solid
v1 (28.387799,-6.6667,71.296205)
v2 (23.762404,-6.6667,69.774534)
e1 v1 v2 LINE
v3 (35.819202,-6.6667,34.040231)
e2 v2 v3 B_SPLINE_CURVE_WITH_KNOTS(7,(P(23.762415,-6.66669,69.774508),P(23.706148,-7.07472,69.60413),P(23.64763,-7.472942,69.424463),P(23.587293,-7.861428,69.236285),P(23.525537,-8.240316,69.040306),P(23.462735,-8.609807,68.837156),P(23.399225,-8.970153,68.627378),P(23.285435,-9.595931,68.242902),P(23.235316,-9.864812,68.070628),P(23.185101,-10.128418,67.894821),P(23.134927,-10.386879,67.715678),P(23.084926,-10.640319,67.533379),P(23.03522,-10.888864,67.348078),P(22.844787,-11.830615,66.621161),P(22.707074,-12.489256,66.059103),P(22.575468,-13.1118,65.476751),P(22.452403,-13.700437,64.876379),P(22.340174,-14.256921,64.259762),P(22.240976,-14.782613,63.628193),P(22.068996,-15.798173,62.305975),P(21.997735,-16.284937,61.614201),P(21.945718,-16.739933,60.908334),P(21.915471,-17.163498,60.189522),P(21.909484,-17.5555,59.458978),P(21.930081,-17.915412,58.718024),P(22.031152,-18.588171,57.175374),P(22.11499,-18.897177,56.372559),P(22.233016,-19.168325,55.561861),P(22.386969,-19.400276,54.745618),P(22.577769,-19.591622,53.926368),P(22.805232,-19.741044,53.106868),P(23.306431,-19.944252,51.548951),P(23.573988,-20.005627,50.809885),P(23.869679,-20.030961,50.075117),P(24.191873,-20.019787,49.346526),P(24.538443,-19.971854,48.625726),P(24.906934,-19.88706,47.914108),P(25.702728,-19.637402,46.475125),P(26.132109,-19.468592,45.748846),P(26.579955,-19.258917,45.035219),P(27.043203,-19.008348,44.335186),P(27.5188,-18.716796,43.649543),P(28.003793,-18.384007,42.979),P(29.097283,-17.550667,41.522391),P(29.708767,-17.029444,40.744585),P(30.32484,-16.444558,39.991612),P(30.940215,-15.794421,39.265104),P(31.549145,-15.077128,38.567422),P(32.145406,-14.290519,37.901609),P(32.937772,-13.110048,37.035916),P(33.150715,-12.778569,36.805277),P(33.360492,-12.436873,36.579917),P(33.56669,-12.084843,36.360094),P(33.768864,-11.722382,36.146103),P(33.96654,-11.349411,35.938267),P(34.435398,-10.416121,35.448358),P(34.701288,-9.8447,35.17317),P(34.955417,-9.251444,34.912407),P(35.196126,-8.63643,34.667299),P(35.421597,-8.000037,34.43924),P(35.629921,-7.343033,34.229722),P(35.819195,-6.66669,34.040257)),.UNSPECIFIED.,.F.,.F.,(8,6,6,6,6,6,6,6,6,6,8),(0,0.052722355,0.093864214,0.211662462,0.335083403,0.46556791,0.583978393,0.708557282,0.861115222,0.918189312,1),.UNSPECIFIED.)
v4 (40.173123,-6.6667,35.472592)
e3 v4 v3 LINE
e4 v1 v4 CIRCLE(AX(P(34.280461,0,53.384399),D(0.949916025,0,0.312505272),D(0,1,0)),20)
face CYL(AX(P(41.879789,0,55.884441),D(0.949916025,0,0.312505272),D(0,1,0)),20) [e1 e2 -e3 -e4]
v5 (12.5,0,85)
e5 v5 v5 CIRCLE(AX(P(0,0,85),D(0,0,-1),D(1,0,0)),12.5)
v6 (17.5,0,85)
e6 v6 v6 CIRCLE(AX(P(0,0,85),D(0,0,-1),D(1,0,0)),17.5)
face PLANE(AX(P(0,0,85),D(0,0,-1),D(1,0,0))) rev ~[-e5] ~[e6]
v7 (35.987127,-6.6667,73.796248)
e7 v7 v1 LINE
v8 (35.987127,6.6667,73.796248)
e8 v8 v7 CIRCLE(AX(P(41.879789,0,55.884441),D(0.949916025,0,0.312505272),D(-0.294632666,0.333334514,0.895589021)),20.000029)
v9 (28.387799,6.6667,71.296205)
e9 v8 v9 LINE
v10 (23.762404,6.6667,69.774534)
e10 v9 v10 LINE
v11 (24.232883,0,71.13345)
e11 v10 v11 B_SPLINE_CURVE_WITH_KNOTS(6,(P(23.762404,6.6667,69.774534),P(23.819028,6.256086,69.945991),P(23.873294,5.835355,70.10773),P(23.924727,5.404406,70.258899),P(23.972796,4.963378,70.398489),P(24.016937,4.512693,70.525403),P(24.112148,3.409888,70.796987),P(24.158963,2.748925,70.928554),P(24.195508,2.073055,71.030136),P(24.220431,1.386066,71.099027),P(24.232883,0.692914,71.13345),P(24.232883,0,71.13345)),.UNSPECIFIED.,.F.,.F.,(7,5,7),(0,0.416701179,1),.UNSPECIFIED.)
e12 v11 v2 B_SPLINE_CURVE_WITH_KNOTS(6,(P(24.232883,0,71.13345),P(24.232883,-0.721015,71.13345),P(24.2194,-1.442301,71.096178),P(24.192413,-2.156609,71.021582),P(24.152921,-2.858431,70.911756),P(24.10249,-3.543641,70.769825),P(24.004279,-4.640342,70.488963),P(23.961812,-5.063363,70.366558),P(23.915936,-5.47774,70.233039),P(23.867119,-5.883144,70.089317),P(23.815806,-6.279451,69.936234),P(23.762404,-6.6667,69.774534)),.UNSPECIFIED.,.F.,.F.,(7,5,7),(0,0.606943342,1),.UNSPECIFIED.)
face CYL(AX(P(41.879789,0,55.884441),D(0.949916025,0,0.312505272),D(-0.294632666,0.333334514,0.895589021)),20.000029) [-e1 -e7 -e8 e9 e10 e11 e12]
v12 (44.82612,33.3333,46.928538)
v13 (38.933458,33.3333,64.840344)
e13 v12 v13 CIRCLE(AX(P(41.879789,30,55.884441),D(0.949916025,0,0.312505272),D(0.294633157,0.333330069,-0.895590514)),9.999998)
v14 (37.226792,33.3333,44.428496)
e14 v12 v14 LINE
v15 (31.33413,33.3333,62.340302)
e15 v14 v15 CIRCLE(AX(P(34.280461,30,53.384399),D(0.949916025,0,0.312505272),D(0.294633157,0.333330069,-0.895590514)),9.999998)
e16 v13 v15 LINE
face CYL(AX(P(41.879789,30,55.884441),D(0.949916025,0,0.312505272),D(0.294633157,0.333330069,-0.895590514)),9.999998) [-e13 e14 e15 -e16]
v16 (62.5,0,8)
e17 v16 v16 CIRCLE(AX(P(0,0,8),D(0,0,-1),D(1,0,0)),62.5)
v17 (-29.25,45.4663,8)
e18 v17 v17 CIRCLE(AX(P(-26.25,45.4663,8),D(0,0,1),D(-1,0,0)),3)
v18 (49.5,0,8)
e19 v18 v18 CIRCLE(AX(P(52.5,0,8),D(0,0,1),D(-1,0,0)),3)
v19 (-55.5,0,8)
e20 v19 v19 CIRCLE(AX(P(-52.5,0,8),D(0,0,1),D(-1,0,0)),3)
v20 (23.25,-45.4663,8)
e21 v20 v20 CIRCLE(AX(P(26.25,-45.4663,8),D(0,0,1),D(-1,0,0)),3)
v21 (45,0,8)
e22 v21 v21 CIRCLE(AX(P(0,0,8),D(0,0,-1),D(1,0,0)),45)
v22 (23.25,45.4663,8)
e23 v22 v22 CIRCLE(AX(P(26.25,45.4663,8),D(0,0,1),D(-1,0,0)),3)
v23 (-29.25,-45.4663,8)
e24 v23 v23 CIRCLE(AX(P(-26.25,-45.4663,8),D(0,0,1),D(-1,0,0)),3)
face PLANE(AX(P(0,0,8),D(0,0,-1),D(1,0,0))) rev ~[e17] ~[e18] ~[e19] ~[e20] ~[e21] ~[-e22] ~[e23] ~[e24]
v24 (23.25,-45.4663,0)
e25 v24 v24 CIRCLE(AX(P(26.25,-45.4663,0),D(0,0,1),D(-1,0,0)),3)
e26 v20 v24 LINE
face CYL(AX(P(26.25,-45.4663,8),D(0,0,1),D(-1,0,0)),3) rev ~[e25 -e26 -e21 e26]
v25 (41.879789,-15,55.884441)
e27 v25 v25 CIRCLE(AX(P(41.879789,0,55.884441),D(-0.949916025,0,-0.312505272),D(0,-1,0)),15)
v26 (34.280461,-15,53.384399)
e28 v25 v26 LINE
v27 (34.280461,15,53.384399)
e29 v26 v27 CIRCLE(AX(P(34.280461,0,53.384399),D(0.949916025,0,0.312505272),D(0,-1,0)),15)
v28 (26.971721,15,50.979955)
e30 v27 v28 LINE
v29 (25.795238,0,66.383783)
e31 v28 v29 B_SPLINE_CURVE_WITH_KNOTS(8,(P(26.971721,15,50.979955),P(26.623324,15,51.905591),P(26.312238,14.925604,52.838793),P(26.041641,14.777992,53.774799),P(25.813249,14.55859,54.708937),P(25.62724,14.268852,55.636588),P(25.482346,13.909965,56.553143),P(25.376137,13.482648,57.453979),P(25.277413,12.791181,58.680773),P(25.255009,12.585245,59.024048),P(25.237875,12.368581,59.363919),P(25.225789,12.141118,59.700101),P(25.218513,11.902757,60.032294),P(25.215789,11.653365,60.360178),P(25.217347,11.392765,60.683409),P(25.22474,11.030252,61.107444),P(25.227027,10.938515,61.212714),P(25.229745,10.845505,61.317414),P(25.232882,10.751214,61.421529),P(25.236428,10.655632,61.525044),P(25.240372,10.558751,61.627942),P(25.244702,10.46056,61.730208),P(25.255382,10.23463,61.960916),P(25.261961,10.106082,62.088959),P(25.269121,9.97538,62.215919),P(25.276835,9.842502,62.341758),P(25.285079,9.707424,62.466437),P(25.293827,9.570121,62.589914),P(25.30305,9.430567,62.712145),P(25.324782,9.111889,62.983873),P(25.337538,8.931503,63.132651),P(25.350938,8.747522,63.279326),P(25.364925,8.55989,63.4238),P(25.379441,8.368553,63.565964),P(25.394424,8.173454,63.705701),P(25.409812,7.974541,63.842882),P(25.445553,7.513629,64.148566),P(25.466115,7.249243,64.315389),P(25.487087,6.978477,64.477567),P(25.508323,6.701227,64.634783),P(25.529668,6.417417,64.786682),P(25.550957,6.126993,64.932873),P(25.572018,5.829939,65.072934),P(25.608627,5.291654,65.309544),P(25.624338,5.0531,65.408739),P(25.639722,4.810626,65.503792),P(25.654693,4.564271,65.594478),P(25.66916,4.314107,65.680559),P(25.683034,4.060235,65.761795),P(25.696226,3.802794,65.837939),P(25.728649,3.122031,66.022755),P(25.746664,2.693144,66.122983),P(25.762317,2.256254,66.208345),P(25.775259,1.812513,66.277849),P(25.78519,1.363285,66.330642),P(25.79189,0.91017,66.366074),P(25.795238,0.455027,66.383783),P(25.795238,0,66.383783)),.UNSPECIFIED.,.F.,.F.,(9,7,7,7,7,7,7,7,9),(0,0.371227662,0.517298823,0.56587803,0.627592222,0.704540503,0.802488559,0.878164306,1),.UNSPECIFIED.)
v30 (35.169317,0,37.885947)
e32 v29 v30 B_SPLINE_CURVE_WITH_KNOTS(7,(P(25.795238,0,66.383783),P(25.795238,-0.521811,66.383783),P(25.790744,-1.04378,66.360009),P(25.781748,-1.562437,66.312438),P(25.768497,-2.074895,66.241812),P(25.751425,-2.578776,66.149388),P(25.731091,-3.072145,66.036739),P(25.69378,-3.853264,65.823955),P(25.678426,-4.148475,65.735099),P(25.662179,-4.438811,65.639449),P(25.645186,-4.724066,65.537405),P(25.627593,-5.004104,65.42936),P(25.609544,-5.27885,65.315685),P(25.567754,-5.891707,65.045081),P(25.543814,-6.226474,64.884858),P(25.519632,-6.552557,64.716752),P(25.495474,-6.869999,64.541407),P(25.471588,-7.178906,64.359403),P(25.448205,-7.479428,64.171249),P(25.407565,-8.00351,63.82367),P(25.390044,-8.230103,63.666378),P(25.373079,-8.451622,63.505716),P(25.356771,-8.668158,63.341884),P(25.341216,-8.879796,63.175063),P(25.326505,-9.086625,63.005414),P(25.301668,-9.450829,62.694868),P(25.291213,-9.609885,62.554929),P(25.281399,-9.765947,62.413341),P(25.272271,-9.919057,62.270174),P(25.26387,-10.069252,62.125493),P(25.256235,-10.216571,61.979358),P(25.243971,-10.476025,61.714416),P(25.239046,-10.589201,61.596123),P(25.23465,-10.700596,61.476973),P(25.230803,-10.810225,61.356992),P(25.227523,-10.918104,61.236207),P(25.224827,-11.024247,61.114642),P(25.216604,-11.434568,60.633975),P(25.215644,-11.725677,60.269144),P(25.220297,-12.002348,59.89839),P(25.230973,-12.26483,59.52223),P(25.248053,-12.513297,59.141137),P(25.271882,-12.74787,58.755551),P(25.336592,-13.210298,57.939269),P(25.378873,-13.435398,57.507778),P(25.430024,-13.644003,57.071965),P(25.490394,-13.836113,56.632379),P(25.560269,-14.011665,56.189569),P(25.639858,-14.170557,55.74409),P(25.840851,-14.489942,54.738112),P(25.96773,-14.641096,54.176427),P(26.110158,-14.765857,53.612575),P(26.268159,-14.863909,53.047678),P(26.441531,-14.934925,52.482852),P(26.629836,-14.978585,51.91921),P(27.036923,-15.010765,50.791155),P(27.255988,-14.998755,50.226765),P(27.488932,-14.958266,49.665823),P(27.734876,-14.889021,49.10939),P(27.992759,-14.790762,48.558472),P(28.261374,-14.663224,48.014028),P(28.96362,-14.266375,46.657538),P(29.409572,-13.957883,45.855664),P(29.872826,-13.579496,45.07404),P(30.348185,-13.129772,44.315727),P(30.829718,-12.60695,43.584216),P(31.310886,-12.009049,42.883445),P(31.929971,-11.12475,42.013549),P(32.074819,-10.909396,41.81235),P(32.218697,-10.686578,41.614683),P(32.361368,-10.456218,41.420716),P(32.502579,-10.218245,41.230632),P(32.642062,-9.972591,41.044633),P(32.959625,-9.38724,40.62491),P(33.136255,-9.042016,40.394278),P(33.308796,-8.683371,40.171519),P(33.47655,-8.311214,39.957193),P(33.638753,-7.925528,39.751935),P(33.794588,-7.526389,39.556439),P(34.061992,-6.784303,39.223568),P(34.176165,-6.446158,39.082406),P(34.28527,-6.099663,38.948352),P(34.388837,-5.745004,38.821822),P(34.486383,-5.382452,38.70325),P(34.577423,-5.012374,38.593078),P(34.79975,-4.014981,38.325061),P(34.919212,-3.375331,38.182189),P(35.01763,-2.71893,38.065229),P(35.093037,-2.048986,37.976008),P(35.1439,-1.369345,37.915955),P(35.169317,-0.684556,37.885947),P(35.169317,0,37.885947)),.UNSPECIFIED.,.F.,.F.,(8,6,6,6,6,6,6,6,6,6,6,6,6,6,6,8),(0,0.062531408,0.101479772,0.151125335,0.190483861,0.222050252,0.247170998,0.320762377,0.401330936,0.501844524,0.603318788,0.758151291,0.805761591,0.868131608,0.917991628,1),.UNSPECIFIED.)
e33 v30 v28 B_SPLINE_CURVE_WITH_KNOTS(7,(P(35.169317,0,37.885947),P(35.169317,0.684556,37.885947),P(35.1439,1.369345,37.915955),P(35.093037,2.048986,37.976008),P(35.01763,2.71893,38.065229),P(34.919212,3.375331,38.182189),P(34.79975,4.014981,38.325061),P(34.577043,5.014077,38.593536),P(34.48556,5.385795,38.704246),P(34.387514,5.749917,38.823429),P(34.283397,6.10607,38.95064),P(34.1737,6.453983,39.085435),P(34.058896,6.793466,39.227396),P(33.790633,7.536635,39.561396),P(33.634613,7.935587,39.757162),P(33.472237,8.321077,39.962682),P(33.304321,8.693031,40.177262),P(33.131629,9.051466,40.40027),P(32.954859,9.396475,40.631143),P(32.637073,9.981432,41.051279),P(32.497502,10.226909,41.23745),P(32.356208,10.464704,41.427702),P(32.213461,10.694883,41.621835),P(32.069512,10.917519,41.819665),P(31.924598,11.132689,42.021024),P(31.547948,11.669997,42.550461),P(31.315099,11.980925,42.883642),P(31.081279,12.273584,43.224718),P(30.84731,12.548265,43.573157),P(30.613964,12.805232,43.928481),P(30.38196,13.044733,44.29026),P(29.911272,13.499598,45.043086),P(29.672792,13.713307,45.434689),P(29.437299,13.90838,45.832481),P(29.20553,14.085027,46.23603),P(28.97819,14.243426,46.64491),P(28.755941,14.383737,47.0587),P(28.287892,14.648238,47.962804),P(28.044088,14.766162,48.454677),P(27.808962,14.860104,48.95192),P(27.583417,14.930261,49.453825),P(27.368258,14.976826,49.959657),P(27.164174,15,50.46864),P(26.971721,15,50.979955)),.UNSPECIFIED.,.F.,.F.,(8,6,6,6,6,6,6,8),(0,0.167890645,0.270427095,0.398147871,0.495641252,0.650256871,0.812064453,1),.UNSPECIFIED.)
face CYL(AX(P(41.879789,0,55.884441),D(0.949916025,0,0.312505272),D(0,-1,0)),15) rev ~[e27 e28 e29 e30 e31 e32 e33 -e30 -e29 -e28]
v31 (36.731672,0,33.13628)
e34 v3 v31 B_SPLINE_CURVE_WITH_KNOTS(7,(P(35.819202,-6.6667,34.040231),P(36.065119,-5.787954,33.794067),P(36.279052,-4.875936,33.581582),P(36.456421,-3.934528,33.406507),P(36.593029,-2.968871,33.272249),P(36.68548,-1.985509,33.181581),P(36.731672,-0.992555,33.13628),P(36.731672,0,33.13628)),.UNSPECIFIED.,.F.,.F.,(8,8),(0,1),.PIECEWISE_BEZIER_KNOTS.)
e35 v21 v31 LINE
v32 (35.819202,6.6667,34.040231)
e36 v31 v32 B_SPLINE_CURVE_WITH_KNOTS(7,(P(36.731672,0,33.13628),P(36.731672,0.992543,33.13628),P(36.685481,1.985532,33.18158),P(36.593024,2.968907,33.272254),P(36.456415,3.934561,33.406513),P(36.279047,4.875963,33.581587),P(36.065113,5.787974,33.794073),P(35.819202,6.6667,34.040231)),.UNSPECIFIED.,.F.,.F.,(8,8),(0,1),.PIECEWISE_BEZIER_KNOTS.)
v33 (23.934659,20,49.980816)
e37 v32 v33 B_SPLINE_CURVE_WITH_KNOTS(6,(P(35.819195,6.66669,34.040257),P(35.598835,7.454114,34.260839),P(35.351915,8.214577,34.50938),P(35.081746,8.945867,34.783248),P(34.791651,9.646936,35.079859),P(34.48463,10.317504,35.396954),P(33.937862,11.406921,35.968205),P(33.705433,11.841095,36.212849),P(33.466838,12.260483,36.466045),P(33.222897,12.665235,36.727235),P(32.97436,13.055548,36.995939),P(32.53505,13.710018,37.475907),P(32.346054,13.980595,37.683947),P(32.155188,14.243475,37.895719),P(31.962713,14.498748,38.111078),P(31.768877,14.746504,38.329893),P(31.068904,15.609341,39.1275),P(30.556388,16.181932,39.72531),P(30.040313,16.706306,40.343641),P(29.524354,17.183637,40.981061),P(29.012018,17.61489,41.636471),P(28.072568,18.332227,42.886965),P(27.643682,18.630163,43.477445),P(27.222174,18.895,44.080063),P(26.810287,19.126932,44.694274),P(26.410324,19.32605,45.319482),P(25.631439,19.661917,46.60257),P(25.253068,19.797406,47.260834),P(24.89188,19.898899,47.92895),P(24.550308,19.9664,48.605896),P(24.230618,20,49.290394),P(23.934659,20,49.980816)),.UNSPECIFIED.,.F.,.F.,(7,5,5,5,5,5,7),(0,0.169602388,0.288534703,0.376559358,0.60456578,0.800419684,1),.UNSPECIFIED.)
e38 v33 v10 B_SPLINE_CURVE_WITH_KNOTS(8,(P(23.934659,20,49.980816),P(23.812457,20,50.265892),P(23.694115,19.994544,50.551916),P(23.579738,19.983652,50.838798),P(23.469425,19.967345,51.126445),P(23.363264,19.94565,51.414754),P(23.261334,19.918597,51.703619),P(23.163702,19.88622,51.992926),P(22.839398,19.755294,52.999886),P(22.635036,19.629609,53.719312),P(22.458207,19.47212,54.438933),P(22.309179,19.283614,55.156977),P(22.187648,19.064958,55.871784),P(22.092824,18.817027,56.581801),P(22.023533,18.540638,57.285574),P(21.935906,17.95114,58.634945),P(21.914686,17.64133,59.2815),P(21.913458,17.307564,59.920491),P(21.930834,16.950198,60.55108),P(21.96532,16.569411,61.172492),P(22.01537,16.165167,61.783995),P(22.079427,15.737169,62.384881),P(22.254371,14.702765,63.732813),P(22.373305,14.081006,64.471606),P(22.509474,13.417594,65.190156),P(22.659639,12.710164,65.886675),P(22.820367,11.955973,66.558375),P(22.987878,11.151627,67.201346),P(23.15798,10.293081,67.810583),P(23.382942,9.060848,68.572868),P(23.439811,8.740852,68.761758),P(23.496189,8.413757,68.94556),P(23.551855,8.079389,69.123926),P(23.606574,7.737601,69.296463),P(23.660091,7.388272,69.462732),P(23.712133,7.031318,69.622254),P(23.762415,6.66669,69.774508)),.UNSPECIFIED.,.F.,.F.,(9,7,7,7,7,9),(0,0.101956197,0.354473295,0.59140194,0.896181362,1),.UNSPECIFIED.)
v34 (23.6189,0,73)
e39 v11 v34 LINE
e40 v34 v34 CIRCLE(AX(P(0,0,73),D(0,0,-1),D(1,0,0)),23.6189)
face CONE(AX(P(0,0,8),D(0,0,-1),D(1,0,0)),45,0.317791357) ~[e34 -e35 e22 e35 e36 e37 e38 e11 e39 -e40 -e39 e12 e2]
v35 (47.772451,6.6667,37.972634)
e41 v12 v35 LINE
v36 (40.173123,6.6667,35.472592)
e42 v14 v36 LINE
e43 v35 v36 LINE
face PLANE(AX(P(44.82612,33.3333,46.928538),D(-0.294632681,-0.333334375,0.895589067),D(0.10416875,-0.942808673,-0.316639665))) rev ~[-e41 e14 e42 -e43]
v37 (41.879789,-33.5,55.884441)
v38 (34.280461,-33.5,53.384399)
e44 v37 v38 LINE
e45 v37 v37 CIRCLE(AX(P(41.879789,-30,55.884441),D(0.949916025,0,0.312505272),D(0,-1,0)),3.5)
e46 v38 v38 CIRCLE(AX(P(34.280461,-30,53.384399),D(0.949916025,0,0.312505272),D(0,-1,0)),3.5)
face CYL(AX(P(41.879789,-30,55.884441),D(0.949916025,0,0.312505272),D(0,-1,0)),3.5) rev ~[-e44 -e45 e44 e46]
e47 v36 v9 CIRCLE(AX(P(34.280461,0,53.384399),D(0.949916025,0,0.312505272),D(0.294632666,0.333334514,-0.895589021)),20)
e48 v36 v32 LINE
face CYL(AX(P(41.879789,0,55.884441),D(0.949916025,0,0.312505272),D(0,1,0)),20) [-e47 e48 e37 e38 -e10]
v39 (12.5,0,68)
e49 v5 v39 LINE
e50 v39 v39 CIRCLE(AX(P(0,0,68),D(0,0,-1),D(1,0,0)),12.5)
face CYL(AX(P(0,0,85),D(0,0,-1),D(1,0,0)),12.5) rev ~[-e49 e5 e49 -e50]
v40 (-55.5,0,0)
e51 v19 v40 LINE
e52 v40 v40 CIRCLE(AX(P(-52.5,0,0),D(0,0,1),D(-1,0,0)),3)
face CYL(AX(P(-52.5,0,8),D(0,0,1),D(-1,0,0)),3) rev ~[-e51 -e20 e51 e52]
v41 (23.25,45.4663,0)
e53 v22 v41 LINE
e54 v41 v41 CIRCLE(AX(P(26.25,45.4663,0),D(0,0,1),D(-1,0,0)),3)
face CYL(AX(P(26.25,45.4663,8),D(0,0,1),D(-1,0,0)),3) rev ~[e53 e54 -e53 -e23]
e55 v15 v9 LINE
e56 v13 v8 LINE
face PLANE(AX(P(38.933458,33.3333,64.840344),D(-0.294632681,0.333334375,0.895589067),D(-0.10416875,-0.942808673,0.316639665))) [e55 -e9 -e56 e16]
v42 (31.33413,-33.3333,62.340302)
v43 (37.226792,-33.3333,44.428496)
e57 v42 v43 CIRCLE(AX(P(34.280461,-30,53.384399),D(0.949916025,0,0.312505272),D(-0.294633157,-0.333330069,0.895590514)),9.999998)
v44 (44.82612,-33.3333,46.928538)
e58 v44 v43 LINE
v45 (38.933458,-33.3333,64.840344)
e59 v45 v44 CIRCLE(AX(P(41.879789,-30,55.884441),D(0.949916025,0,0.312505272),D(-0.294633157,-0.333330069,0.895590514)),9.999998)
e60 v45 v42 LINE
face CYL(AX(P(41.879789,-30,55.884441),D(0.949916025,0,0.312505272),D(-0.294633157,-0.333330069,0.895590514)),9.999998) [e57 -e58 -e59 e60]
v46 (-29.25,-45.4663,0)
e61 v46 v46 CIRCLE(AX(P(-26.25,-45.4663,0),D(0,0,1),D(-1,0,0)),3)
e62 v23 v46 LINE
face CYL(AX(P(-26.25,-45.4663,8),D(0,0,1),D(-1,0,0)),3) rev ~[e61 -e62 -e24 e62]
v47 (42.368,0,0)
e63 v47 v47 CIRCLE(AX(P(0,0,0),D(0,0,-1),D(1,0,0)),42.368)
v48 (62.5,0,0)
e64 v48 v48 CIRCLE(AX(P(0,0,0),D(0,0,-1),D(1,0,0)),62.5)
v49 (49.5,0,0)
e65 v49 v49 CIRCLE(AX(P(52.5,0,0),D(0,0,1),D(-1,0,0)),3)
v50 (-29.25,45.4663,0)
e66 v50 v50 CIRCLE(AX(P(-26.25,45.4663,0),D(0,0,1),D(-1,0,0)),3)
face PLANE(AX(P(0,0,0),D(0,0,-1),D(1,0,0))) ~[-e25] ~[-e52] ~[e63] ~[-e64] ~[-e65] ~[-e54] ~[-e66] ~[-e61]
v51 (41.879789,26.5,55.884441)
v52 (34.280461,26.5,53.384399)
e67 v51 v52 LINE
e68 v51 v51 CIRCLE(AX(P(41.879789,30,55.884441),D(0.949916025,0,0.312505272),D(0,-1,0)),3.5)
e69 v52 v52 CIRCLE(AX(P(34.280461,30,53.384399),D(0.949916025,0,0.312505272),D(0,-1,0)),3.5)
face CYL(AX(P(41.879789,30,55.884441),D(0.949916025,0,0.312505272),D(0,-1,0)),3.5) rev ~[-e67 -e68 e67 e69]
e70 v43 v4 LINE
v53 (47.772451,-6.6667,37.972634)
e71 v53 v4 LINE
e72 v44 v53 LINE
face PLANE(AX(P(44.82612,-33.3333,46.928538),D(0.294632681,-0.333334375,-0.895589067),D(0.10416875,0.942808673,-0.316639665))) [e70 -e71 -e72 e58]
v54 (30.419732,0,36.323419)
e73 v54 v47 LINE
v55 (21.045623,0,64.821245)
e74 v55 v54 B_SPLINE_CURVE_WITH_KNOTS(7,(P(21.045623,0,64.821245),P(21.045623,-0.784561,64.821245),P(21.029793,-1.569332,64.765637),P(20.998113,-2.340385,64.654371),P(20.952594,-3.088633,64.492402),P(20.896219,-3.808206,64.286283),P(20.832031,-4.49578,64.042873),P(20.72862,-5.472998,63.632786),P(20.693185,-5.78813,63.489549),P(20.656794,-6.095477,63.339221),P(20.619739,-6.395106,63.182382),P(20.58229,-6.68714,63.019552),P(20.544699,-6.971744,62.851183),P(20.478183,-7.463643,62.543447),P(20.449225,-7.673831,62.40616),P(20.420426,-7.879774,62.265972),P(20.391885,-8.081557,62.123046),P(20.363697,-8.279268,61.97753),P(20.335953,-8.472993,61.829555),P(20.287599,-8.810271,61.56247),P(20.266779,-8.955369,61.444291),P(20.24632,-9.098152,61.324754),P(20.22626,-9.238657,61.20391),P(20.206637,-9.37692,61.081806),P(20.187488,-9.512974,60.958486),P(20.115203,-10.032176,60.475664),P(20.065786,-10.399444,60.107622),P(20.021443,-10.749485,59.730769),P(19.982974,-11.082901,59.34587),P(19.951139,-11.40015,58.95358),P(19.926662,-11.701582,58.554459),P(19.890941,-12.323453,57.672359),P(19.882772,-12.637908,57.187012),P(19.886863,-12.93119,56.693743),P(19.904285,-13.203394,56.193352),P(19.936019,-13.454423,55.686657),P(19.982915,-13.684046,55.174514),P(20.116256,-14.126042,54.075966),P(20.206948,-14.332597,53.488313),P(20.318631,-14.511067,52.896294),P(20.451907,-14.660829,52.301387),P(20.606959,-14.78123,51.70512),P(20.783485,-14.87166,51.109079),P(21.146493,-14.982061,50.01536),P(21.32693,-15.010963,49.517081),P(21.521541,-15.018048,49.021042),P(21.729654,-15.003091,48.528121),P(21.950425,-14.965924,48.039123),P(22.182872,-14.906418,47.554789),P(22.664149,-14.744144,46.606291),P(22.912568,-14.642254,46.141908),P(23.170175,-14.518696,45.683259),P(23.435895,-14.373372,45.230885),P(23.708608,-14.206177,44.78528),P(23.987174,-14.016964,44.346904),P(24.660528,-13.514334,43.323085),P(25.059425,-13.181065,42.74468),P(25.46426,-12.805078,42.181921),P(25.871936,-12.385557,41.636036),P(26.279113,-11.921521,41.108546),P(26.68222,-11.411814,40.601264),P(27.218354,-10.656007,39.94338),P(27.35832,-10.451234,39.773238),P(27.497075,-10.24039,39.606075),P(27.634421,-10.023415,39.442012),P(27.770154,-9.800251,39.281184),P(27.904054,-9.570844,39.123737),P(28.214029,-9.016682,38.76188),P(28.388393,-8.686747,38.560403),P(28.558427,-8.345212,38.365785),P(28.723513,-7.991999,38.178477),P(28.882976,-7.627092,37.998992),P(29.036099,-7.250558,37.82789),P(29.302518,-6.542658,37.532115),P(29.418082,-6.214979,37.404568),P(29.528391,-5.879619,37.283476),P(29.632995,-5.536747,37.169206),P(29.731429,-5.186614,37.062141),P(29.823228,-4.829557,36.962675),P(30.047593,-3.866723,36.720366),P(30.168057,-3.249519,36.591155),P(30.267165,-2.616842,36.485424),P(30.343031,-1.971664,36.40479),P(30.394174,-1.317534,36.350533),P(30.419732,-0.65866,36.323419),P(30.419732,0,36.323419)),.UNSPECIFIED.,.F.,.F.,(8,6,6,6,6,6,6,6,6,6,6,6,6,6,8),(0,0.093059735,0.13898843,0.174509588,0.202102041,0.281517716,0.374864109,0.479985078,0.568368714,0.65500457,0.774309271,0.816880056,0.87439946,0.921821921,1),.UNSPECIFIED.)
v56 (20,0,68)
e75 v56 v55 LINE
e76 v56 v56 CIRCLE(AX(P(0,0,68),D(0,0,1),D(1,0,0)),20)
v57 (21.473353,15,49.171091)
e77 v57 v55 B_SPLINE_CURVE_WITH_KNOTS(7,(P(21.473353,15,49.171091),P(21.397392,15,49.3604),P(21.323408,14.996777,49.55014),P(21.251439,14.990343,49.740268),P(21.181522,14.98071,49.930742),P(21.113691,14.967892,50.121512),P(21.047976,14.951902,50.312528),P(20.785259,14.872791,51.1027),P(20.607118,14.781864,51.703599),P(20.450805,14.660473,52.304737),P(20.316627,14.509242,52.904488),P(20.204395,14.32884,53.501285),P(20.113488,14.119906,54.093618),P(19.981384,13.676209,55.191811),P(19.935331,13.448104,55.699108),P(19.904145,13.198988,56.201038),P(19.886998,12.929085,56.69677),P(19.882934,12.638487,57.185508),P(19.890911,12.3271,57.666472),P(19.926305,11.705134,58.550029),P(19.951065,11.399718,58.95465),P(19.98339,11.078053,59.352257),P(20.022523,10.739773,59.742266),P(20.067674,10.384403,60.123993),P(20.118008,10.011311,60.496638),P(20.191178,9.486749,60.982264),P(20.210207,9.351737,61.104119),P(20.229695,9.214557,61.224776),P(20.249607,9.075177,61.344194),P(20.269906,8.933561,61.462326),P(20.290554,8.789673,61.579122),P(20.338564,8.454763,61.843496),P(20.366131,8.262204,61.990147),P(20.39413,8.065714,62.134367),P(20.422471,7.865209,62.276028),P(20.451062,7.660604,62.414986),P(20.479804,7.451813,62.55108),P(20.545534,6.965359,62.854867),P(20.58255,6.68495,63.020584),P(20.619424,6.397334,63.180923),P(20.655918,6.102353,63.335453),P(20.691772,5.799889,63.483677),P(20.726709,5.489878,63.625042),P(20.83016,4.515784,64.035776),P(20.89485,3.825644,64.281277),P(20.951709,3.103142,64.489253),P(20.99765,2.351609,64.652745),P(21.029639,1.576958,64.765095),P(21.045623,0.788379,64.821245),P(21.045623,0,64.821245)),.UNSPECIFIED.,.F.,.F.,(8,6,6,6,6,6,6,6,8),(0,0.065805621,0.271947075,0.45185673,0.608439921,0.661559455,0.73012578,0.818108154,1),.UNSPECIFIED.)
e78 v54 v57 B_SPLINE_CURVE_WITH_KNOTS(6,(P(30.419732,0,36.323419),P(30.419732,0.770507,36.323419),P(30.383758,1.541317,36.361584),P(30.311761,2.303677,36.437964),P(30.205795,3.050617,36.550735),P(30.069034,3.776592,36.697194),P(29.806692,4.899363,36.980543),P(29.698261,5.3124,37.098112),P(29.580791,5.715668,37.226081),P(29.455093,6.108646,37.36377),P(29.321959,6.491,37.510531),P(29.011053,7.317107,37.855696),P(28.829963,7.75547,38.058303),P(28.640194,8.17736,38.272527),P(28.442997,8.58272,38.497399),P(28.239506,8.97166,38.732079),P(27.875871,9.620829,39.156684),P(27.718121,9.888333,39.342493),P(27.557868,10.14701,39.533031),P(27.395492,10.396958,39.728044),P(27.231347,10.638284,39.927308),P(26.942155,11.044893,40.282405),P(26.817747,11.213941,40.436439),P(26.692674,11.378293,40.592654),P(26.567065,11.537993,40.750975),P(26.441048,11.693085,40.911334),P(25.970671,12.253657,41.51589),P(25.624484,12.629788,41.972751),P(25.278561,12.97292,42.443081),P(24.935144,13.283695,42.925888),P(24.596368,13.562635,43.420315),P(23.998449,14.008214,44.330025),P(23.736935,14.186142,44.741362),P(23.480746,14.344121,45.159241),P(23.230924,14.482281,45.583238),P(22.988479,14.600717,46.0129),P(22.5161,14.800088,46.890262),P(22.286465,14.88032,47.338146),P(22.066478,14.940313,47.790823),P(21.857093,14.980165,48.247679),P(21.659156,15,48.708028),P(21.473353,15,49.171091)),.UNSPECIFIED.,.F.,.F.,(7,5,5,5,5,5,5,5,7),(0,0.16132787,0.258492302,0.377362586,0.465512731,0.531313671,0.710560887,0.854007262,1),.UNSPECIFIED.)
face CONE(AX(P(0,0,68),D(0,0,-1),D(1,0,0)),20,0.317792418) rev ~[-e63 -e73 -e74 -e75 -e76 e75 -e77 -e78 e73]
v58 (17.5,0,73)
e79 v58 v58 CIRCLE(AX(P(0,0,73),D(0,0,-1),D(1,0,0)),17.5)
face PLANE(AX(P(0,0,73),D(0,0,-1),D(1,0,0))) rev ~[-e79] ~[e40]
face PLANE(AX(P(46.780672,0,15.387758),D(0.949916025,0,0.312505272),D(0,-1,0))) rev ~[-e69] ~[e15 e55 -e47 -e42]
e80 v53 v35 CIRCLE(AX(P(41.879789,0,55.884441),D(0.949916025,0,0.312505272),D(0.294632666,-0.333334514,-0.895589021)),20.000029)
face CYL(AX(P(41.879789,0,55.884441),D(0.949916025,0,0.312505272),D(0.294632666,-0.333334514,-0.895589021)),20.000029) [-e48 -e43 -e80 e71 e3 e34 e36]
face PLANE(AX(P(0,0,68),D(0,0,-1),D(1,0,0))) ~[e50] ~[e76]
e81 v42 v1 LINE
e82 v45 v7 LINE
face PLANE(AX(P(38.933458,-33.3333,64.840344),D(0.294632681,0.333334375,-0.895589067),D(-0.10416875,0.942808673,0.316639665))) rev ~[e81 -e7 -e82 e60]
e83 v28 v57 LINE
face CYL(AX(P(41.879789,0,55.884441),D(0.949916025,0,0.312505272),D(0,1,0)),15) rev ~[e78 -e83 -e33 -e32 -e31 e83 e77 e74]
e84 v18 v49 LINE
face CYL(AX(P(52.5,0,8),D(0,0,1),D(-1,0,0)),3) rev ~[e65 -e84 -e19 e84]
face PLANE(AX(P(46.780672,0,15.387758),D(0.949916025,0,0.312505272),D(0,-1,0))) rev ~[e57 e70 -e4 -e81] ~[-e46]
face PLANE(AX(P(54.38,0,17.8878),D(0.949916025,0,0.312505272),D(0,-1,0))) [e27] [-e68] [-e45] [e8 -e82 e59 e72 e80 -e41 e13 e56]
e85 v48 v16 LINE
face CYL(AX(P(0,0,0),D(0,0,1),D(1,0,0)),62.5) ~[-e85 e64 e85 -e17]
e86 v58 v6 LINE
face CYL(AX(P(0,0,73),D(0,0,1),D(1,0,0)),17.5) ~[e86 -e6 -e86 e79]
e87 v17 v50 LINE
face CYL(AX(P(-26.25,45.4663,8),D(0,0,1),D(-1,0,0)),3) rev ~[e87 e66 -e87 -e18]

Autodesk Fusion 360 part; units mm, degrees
sketch "草图1" plane through (0, 0, 0) normal (0, 1, 0) x (1, 0, 0)
  line L0 (0, -80) -> (0, 30) construction
  line L1 (42.368, 0) -> (62.5, 0)
  line L2 (62.5, 0) -> (62.5, -8)
  line L3 (62.5, -8) -> (45, -8)
  line L4 (45, -8) -> (23.6189, -73)
  line L5 (23.6189, -73) -> (17.5, -73)
  line L6 (17.5, -73) -> (17.5, -85)
  line L7 (17.5, -85) -> (12.5, -85)
  line L8 (12.5, -85) -> (12.5, -68)
  line L9 (12.5, -68) -> (20, -68)
  line L10 (20, -68) -> (42.368, 0)
  dimension "d1" = 5
  dimension "d2" = 8
  dimension "d3" = 62.5
  dimension "d4" = 45
  dimension "d5" = 5
  dimension "d7" = 12
  dimension "d8" = 5
  dimension "d9" = 17.5
  dimension "d10" = 20
  dimension "d11" = 85
revolve "旋转1" add sketch "草图1" angle 360 about axis through (0, 0, 80) along (0, 0, -1) makes body 1
sketch "草图2" plane through (0, 0, 8) normal (0, 0, 1) x (-1, 0, 0)
  circle A0 centre (0, 0) radius 62.5
  circle A1 centre (0, 0) radius 45
  circle A2 centre (-52.5, 0) radius 3
  circle A3 centre (-26.25, -45.4663) radius 3
  circle A4 centre (26.25, -45.4663) radius 3
  circle A5 centre (52.5, 0) radius 3
  circle A6 centre (26.25, 45.4663) radius 3
  circle A7 centre (-26.25, 45.4663) radius 3
  dimension "d13" = 6
  dimension "d14" = 52.5
  dimension "d16" = 360
extrude "拉伸1" cut sketch "草图2" against normal blind 20 contours A2 | A3 | A4 | A5 | A6 | A7 bodies 1
sketch "草图3" plane through (0, 0, 0) normal (0, 1, 0) x (1, 0, 0)
ref_plane "工作平面1" through (34.3094, 0, 40.5) normal (0.9499, 0, 0.3125) x (0, -1, 0)
ref_plane "工作平面2" through (45.7086, 0, 44.2496) normal (0.9499, 0, 0.3125) x (0, -1, 0)
sketch "草图4" plane through (54.38, 0, 17.8878) normal (0.9499, 0, 0.3125) x (0, -1, 0)
sketch "草图5" plane through (54.38, 0, 17.8878) normal (0.9499, 0, 0.3125) x (0, -1, 0)
  circle A0 centre (-30, -40) radius 3.5
  circle A1 centre (30, -40) radius 3.5
  line L0 (33.3333, -49.4281) -> (6.6667, -58.8562)
  line L1 (33.3333, -30.5719) -> (6.6667, -21.1438)
  line L2 (-33.3333, -30.5719) -> (-6.6667, -21.1438)
  line L3 (-33.3333, -49.4281) -> (-6.6667, -58.8562)
  circle A2 centre (0, -40) radius 15
  line L4 (0, -75) -> (0, 0) construction
  arc A3 (33.3333, -49.4281) -> (33.3333, -30.5719) centre (30, -40) ccw
  arc A4 (6.6667, -21.1438) -> (-6.6667, -21.1438) centre (0, -40) ccw
  arc A5 (-6.6667, -58.8562) -> (6.6667, -58.8562) centre (0, -40) ccw
  arc A6 (-33.3333, -30.5719) -> (-33.3333, -49.4281) centre (-30, -40) ccw
  line L5 (0, 13.2387) -> (0, 19.5294)
  point P0 (0, -75.9942)
  dimension "d21" = 7
  dimension "d22" = 20
  dimension "d23" = 40
  dimension "d24" = 60
  dimension "d25" = 30
  dimension "d27" = 30
  dimension "d29" = 50
extrude "拉伸2" add sketch "草图5" against normal blind 8 separate body makes body 2
sketch "草图6" plane through (54.38, 0, 17.8878) normal (0.9499, 0, 0.3125) x (0, 1, 0)
  circle A0 centre (30, 40) radius 3.5
  circle A1 centre (-30, 40) radius 3.5
  circle A2 centre (0, 40) radius 15
  arc A3 (-33.3333, 49.4281) -> (-33.3333, 30.5719) centre (-30, 40) ccw
  line L0 (-33.3333, 30.5719) -> (-6.6667, 21.1438)
  arc A4 (-6.6667, 21.1438) -> (6.6667, 21.1438) centre (0, 40) ccw
  line L1 (6.6667, 21.1438) -> (33.3333, 30.5719)
  arc A5 (33.3333, 30.5719) -> (33.3333, 49.4281) centre (30, 40) ccw
  line L2 (33.3333, 49.4281) -> (6.6667, 58.8562)
  arc A6 (6.6667, 58.8562) -> (-6.6667, 58.8562) centre (0, 40) ccw
  line L3 (-6.6667, 58.8562) -> (-33.3333, 49.4281)
  circle A7 centre (0, 40) radius 20
  circle A8 centre (0, 40) radius 15
extrude "拉伸3" add sketch "草图6" along normal up to surface contours A4 A6 A7 end surface at (-14.1168, 35.9689, 11.3333) on bodies 1 bodies 1 2
extrude "拉伸4" cut sketch "草图6" along normal up to surface contours A2 A8 end surface at (35.1613, -4.3771, 21.0837) on bodies 1 bodies 1
equation "d3 = ( 125 / 2 ) * 1 mm"
equation "d14 = ( 105 / 2 ) * 1 mm"
